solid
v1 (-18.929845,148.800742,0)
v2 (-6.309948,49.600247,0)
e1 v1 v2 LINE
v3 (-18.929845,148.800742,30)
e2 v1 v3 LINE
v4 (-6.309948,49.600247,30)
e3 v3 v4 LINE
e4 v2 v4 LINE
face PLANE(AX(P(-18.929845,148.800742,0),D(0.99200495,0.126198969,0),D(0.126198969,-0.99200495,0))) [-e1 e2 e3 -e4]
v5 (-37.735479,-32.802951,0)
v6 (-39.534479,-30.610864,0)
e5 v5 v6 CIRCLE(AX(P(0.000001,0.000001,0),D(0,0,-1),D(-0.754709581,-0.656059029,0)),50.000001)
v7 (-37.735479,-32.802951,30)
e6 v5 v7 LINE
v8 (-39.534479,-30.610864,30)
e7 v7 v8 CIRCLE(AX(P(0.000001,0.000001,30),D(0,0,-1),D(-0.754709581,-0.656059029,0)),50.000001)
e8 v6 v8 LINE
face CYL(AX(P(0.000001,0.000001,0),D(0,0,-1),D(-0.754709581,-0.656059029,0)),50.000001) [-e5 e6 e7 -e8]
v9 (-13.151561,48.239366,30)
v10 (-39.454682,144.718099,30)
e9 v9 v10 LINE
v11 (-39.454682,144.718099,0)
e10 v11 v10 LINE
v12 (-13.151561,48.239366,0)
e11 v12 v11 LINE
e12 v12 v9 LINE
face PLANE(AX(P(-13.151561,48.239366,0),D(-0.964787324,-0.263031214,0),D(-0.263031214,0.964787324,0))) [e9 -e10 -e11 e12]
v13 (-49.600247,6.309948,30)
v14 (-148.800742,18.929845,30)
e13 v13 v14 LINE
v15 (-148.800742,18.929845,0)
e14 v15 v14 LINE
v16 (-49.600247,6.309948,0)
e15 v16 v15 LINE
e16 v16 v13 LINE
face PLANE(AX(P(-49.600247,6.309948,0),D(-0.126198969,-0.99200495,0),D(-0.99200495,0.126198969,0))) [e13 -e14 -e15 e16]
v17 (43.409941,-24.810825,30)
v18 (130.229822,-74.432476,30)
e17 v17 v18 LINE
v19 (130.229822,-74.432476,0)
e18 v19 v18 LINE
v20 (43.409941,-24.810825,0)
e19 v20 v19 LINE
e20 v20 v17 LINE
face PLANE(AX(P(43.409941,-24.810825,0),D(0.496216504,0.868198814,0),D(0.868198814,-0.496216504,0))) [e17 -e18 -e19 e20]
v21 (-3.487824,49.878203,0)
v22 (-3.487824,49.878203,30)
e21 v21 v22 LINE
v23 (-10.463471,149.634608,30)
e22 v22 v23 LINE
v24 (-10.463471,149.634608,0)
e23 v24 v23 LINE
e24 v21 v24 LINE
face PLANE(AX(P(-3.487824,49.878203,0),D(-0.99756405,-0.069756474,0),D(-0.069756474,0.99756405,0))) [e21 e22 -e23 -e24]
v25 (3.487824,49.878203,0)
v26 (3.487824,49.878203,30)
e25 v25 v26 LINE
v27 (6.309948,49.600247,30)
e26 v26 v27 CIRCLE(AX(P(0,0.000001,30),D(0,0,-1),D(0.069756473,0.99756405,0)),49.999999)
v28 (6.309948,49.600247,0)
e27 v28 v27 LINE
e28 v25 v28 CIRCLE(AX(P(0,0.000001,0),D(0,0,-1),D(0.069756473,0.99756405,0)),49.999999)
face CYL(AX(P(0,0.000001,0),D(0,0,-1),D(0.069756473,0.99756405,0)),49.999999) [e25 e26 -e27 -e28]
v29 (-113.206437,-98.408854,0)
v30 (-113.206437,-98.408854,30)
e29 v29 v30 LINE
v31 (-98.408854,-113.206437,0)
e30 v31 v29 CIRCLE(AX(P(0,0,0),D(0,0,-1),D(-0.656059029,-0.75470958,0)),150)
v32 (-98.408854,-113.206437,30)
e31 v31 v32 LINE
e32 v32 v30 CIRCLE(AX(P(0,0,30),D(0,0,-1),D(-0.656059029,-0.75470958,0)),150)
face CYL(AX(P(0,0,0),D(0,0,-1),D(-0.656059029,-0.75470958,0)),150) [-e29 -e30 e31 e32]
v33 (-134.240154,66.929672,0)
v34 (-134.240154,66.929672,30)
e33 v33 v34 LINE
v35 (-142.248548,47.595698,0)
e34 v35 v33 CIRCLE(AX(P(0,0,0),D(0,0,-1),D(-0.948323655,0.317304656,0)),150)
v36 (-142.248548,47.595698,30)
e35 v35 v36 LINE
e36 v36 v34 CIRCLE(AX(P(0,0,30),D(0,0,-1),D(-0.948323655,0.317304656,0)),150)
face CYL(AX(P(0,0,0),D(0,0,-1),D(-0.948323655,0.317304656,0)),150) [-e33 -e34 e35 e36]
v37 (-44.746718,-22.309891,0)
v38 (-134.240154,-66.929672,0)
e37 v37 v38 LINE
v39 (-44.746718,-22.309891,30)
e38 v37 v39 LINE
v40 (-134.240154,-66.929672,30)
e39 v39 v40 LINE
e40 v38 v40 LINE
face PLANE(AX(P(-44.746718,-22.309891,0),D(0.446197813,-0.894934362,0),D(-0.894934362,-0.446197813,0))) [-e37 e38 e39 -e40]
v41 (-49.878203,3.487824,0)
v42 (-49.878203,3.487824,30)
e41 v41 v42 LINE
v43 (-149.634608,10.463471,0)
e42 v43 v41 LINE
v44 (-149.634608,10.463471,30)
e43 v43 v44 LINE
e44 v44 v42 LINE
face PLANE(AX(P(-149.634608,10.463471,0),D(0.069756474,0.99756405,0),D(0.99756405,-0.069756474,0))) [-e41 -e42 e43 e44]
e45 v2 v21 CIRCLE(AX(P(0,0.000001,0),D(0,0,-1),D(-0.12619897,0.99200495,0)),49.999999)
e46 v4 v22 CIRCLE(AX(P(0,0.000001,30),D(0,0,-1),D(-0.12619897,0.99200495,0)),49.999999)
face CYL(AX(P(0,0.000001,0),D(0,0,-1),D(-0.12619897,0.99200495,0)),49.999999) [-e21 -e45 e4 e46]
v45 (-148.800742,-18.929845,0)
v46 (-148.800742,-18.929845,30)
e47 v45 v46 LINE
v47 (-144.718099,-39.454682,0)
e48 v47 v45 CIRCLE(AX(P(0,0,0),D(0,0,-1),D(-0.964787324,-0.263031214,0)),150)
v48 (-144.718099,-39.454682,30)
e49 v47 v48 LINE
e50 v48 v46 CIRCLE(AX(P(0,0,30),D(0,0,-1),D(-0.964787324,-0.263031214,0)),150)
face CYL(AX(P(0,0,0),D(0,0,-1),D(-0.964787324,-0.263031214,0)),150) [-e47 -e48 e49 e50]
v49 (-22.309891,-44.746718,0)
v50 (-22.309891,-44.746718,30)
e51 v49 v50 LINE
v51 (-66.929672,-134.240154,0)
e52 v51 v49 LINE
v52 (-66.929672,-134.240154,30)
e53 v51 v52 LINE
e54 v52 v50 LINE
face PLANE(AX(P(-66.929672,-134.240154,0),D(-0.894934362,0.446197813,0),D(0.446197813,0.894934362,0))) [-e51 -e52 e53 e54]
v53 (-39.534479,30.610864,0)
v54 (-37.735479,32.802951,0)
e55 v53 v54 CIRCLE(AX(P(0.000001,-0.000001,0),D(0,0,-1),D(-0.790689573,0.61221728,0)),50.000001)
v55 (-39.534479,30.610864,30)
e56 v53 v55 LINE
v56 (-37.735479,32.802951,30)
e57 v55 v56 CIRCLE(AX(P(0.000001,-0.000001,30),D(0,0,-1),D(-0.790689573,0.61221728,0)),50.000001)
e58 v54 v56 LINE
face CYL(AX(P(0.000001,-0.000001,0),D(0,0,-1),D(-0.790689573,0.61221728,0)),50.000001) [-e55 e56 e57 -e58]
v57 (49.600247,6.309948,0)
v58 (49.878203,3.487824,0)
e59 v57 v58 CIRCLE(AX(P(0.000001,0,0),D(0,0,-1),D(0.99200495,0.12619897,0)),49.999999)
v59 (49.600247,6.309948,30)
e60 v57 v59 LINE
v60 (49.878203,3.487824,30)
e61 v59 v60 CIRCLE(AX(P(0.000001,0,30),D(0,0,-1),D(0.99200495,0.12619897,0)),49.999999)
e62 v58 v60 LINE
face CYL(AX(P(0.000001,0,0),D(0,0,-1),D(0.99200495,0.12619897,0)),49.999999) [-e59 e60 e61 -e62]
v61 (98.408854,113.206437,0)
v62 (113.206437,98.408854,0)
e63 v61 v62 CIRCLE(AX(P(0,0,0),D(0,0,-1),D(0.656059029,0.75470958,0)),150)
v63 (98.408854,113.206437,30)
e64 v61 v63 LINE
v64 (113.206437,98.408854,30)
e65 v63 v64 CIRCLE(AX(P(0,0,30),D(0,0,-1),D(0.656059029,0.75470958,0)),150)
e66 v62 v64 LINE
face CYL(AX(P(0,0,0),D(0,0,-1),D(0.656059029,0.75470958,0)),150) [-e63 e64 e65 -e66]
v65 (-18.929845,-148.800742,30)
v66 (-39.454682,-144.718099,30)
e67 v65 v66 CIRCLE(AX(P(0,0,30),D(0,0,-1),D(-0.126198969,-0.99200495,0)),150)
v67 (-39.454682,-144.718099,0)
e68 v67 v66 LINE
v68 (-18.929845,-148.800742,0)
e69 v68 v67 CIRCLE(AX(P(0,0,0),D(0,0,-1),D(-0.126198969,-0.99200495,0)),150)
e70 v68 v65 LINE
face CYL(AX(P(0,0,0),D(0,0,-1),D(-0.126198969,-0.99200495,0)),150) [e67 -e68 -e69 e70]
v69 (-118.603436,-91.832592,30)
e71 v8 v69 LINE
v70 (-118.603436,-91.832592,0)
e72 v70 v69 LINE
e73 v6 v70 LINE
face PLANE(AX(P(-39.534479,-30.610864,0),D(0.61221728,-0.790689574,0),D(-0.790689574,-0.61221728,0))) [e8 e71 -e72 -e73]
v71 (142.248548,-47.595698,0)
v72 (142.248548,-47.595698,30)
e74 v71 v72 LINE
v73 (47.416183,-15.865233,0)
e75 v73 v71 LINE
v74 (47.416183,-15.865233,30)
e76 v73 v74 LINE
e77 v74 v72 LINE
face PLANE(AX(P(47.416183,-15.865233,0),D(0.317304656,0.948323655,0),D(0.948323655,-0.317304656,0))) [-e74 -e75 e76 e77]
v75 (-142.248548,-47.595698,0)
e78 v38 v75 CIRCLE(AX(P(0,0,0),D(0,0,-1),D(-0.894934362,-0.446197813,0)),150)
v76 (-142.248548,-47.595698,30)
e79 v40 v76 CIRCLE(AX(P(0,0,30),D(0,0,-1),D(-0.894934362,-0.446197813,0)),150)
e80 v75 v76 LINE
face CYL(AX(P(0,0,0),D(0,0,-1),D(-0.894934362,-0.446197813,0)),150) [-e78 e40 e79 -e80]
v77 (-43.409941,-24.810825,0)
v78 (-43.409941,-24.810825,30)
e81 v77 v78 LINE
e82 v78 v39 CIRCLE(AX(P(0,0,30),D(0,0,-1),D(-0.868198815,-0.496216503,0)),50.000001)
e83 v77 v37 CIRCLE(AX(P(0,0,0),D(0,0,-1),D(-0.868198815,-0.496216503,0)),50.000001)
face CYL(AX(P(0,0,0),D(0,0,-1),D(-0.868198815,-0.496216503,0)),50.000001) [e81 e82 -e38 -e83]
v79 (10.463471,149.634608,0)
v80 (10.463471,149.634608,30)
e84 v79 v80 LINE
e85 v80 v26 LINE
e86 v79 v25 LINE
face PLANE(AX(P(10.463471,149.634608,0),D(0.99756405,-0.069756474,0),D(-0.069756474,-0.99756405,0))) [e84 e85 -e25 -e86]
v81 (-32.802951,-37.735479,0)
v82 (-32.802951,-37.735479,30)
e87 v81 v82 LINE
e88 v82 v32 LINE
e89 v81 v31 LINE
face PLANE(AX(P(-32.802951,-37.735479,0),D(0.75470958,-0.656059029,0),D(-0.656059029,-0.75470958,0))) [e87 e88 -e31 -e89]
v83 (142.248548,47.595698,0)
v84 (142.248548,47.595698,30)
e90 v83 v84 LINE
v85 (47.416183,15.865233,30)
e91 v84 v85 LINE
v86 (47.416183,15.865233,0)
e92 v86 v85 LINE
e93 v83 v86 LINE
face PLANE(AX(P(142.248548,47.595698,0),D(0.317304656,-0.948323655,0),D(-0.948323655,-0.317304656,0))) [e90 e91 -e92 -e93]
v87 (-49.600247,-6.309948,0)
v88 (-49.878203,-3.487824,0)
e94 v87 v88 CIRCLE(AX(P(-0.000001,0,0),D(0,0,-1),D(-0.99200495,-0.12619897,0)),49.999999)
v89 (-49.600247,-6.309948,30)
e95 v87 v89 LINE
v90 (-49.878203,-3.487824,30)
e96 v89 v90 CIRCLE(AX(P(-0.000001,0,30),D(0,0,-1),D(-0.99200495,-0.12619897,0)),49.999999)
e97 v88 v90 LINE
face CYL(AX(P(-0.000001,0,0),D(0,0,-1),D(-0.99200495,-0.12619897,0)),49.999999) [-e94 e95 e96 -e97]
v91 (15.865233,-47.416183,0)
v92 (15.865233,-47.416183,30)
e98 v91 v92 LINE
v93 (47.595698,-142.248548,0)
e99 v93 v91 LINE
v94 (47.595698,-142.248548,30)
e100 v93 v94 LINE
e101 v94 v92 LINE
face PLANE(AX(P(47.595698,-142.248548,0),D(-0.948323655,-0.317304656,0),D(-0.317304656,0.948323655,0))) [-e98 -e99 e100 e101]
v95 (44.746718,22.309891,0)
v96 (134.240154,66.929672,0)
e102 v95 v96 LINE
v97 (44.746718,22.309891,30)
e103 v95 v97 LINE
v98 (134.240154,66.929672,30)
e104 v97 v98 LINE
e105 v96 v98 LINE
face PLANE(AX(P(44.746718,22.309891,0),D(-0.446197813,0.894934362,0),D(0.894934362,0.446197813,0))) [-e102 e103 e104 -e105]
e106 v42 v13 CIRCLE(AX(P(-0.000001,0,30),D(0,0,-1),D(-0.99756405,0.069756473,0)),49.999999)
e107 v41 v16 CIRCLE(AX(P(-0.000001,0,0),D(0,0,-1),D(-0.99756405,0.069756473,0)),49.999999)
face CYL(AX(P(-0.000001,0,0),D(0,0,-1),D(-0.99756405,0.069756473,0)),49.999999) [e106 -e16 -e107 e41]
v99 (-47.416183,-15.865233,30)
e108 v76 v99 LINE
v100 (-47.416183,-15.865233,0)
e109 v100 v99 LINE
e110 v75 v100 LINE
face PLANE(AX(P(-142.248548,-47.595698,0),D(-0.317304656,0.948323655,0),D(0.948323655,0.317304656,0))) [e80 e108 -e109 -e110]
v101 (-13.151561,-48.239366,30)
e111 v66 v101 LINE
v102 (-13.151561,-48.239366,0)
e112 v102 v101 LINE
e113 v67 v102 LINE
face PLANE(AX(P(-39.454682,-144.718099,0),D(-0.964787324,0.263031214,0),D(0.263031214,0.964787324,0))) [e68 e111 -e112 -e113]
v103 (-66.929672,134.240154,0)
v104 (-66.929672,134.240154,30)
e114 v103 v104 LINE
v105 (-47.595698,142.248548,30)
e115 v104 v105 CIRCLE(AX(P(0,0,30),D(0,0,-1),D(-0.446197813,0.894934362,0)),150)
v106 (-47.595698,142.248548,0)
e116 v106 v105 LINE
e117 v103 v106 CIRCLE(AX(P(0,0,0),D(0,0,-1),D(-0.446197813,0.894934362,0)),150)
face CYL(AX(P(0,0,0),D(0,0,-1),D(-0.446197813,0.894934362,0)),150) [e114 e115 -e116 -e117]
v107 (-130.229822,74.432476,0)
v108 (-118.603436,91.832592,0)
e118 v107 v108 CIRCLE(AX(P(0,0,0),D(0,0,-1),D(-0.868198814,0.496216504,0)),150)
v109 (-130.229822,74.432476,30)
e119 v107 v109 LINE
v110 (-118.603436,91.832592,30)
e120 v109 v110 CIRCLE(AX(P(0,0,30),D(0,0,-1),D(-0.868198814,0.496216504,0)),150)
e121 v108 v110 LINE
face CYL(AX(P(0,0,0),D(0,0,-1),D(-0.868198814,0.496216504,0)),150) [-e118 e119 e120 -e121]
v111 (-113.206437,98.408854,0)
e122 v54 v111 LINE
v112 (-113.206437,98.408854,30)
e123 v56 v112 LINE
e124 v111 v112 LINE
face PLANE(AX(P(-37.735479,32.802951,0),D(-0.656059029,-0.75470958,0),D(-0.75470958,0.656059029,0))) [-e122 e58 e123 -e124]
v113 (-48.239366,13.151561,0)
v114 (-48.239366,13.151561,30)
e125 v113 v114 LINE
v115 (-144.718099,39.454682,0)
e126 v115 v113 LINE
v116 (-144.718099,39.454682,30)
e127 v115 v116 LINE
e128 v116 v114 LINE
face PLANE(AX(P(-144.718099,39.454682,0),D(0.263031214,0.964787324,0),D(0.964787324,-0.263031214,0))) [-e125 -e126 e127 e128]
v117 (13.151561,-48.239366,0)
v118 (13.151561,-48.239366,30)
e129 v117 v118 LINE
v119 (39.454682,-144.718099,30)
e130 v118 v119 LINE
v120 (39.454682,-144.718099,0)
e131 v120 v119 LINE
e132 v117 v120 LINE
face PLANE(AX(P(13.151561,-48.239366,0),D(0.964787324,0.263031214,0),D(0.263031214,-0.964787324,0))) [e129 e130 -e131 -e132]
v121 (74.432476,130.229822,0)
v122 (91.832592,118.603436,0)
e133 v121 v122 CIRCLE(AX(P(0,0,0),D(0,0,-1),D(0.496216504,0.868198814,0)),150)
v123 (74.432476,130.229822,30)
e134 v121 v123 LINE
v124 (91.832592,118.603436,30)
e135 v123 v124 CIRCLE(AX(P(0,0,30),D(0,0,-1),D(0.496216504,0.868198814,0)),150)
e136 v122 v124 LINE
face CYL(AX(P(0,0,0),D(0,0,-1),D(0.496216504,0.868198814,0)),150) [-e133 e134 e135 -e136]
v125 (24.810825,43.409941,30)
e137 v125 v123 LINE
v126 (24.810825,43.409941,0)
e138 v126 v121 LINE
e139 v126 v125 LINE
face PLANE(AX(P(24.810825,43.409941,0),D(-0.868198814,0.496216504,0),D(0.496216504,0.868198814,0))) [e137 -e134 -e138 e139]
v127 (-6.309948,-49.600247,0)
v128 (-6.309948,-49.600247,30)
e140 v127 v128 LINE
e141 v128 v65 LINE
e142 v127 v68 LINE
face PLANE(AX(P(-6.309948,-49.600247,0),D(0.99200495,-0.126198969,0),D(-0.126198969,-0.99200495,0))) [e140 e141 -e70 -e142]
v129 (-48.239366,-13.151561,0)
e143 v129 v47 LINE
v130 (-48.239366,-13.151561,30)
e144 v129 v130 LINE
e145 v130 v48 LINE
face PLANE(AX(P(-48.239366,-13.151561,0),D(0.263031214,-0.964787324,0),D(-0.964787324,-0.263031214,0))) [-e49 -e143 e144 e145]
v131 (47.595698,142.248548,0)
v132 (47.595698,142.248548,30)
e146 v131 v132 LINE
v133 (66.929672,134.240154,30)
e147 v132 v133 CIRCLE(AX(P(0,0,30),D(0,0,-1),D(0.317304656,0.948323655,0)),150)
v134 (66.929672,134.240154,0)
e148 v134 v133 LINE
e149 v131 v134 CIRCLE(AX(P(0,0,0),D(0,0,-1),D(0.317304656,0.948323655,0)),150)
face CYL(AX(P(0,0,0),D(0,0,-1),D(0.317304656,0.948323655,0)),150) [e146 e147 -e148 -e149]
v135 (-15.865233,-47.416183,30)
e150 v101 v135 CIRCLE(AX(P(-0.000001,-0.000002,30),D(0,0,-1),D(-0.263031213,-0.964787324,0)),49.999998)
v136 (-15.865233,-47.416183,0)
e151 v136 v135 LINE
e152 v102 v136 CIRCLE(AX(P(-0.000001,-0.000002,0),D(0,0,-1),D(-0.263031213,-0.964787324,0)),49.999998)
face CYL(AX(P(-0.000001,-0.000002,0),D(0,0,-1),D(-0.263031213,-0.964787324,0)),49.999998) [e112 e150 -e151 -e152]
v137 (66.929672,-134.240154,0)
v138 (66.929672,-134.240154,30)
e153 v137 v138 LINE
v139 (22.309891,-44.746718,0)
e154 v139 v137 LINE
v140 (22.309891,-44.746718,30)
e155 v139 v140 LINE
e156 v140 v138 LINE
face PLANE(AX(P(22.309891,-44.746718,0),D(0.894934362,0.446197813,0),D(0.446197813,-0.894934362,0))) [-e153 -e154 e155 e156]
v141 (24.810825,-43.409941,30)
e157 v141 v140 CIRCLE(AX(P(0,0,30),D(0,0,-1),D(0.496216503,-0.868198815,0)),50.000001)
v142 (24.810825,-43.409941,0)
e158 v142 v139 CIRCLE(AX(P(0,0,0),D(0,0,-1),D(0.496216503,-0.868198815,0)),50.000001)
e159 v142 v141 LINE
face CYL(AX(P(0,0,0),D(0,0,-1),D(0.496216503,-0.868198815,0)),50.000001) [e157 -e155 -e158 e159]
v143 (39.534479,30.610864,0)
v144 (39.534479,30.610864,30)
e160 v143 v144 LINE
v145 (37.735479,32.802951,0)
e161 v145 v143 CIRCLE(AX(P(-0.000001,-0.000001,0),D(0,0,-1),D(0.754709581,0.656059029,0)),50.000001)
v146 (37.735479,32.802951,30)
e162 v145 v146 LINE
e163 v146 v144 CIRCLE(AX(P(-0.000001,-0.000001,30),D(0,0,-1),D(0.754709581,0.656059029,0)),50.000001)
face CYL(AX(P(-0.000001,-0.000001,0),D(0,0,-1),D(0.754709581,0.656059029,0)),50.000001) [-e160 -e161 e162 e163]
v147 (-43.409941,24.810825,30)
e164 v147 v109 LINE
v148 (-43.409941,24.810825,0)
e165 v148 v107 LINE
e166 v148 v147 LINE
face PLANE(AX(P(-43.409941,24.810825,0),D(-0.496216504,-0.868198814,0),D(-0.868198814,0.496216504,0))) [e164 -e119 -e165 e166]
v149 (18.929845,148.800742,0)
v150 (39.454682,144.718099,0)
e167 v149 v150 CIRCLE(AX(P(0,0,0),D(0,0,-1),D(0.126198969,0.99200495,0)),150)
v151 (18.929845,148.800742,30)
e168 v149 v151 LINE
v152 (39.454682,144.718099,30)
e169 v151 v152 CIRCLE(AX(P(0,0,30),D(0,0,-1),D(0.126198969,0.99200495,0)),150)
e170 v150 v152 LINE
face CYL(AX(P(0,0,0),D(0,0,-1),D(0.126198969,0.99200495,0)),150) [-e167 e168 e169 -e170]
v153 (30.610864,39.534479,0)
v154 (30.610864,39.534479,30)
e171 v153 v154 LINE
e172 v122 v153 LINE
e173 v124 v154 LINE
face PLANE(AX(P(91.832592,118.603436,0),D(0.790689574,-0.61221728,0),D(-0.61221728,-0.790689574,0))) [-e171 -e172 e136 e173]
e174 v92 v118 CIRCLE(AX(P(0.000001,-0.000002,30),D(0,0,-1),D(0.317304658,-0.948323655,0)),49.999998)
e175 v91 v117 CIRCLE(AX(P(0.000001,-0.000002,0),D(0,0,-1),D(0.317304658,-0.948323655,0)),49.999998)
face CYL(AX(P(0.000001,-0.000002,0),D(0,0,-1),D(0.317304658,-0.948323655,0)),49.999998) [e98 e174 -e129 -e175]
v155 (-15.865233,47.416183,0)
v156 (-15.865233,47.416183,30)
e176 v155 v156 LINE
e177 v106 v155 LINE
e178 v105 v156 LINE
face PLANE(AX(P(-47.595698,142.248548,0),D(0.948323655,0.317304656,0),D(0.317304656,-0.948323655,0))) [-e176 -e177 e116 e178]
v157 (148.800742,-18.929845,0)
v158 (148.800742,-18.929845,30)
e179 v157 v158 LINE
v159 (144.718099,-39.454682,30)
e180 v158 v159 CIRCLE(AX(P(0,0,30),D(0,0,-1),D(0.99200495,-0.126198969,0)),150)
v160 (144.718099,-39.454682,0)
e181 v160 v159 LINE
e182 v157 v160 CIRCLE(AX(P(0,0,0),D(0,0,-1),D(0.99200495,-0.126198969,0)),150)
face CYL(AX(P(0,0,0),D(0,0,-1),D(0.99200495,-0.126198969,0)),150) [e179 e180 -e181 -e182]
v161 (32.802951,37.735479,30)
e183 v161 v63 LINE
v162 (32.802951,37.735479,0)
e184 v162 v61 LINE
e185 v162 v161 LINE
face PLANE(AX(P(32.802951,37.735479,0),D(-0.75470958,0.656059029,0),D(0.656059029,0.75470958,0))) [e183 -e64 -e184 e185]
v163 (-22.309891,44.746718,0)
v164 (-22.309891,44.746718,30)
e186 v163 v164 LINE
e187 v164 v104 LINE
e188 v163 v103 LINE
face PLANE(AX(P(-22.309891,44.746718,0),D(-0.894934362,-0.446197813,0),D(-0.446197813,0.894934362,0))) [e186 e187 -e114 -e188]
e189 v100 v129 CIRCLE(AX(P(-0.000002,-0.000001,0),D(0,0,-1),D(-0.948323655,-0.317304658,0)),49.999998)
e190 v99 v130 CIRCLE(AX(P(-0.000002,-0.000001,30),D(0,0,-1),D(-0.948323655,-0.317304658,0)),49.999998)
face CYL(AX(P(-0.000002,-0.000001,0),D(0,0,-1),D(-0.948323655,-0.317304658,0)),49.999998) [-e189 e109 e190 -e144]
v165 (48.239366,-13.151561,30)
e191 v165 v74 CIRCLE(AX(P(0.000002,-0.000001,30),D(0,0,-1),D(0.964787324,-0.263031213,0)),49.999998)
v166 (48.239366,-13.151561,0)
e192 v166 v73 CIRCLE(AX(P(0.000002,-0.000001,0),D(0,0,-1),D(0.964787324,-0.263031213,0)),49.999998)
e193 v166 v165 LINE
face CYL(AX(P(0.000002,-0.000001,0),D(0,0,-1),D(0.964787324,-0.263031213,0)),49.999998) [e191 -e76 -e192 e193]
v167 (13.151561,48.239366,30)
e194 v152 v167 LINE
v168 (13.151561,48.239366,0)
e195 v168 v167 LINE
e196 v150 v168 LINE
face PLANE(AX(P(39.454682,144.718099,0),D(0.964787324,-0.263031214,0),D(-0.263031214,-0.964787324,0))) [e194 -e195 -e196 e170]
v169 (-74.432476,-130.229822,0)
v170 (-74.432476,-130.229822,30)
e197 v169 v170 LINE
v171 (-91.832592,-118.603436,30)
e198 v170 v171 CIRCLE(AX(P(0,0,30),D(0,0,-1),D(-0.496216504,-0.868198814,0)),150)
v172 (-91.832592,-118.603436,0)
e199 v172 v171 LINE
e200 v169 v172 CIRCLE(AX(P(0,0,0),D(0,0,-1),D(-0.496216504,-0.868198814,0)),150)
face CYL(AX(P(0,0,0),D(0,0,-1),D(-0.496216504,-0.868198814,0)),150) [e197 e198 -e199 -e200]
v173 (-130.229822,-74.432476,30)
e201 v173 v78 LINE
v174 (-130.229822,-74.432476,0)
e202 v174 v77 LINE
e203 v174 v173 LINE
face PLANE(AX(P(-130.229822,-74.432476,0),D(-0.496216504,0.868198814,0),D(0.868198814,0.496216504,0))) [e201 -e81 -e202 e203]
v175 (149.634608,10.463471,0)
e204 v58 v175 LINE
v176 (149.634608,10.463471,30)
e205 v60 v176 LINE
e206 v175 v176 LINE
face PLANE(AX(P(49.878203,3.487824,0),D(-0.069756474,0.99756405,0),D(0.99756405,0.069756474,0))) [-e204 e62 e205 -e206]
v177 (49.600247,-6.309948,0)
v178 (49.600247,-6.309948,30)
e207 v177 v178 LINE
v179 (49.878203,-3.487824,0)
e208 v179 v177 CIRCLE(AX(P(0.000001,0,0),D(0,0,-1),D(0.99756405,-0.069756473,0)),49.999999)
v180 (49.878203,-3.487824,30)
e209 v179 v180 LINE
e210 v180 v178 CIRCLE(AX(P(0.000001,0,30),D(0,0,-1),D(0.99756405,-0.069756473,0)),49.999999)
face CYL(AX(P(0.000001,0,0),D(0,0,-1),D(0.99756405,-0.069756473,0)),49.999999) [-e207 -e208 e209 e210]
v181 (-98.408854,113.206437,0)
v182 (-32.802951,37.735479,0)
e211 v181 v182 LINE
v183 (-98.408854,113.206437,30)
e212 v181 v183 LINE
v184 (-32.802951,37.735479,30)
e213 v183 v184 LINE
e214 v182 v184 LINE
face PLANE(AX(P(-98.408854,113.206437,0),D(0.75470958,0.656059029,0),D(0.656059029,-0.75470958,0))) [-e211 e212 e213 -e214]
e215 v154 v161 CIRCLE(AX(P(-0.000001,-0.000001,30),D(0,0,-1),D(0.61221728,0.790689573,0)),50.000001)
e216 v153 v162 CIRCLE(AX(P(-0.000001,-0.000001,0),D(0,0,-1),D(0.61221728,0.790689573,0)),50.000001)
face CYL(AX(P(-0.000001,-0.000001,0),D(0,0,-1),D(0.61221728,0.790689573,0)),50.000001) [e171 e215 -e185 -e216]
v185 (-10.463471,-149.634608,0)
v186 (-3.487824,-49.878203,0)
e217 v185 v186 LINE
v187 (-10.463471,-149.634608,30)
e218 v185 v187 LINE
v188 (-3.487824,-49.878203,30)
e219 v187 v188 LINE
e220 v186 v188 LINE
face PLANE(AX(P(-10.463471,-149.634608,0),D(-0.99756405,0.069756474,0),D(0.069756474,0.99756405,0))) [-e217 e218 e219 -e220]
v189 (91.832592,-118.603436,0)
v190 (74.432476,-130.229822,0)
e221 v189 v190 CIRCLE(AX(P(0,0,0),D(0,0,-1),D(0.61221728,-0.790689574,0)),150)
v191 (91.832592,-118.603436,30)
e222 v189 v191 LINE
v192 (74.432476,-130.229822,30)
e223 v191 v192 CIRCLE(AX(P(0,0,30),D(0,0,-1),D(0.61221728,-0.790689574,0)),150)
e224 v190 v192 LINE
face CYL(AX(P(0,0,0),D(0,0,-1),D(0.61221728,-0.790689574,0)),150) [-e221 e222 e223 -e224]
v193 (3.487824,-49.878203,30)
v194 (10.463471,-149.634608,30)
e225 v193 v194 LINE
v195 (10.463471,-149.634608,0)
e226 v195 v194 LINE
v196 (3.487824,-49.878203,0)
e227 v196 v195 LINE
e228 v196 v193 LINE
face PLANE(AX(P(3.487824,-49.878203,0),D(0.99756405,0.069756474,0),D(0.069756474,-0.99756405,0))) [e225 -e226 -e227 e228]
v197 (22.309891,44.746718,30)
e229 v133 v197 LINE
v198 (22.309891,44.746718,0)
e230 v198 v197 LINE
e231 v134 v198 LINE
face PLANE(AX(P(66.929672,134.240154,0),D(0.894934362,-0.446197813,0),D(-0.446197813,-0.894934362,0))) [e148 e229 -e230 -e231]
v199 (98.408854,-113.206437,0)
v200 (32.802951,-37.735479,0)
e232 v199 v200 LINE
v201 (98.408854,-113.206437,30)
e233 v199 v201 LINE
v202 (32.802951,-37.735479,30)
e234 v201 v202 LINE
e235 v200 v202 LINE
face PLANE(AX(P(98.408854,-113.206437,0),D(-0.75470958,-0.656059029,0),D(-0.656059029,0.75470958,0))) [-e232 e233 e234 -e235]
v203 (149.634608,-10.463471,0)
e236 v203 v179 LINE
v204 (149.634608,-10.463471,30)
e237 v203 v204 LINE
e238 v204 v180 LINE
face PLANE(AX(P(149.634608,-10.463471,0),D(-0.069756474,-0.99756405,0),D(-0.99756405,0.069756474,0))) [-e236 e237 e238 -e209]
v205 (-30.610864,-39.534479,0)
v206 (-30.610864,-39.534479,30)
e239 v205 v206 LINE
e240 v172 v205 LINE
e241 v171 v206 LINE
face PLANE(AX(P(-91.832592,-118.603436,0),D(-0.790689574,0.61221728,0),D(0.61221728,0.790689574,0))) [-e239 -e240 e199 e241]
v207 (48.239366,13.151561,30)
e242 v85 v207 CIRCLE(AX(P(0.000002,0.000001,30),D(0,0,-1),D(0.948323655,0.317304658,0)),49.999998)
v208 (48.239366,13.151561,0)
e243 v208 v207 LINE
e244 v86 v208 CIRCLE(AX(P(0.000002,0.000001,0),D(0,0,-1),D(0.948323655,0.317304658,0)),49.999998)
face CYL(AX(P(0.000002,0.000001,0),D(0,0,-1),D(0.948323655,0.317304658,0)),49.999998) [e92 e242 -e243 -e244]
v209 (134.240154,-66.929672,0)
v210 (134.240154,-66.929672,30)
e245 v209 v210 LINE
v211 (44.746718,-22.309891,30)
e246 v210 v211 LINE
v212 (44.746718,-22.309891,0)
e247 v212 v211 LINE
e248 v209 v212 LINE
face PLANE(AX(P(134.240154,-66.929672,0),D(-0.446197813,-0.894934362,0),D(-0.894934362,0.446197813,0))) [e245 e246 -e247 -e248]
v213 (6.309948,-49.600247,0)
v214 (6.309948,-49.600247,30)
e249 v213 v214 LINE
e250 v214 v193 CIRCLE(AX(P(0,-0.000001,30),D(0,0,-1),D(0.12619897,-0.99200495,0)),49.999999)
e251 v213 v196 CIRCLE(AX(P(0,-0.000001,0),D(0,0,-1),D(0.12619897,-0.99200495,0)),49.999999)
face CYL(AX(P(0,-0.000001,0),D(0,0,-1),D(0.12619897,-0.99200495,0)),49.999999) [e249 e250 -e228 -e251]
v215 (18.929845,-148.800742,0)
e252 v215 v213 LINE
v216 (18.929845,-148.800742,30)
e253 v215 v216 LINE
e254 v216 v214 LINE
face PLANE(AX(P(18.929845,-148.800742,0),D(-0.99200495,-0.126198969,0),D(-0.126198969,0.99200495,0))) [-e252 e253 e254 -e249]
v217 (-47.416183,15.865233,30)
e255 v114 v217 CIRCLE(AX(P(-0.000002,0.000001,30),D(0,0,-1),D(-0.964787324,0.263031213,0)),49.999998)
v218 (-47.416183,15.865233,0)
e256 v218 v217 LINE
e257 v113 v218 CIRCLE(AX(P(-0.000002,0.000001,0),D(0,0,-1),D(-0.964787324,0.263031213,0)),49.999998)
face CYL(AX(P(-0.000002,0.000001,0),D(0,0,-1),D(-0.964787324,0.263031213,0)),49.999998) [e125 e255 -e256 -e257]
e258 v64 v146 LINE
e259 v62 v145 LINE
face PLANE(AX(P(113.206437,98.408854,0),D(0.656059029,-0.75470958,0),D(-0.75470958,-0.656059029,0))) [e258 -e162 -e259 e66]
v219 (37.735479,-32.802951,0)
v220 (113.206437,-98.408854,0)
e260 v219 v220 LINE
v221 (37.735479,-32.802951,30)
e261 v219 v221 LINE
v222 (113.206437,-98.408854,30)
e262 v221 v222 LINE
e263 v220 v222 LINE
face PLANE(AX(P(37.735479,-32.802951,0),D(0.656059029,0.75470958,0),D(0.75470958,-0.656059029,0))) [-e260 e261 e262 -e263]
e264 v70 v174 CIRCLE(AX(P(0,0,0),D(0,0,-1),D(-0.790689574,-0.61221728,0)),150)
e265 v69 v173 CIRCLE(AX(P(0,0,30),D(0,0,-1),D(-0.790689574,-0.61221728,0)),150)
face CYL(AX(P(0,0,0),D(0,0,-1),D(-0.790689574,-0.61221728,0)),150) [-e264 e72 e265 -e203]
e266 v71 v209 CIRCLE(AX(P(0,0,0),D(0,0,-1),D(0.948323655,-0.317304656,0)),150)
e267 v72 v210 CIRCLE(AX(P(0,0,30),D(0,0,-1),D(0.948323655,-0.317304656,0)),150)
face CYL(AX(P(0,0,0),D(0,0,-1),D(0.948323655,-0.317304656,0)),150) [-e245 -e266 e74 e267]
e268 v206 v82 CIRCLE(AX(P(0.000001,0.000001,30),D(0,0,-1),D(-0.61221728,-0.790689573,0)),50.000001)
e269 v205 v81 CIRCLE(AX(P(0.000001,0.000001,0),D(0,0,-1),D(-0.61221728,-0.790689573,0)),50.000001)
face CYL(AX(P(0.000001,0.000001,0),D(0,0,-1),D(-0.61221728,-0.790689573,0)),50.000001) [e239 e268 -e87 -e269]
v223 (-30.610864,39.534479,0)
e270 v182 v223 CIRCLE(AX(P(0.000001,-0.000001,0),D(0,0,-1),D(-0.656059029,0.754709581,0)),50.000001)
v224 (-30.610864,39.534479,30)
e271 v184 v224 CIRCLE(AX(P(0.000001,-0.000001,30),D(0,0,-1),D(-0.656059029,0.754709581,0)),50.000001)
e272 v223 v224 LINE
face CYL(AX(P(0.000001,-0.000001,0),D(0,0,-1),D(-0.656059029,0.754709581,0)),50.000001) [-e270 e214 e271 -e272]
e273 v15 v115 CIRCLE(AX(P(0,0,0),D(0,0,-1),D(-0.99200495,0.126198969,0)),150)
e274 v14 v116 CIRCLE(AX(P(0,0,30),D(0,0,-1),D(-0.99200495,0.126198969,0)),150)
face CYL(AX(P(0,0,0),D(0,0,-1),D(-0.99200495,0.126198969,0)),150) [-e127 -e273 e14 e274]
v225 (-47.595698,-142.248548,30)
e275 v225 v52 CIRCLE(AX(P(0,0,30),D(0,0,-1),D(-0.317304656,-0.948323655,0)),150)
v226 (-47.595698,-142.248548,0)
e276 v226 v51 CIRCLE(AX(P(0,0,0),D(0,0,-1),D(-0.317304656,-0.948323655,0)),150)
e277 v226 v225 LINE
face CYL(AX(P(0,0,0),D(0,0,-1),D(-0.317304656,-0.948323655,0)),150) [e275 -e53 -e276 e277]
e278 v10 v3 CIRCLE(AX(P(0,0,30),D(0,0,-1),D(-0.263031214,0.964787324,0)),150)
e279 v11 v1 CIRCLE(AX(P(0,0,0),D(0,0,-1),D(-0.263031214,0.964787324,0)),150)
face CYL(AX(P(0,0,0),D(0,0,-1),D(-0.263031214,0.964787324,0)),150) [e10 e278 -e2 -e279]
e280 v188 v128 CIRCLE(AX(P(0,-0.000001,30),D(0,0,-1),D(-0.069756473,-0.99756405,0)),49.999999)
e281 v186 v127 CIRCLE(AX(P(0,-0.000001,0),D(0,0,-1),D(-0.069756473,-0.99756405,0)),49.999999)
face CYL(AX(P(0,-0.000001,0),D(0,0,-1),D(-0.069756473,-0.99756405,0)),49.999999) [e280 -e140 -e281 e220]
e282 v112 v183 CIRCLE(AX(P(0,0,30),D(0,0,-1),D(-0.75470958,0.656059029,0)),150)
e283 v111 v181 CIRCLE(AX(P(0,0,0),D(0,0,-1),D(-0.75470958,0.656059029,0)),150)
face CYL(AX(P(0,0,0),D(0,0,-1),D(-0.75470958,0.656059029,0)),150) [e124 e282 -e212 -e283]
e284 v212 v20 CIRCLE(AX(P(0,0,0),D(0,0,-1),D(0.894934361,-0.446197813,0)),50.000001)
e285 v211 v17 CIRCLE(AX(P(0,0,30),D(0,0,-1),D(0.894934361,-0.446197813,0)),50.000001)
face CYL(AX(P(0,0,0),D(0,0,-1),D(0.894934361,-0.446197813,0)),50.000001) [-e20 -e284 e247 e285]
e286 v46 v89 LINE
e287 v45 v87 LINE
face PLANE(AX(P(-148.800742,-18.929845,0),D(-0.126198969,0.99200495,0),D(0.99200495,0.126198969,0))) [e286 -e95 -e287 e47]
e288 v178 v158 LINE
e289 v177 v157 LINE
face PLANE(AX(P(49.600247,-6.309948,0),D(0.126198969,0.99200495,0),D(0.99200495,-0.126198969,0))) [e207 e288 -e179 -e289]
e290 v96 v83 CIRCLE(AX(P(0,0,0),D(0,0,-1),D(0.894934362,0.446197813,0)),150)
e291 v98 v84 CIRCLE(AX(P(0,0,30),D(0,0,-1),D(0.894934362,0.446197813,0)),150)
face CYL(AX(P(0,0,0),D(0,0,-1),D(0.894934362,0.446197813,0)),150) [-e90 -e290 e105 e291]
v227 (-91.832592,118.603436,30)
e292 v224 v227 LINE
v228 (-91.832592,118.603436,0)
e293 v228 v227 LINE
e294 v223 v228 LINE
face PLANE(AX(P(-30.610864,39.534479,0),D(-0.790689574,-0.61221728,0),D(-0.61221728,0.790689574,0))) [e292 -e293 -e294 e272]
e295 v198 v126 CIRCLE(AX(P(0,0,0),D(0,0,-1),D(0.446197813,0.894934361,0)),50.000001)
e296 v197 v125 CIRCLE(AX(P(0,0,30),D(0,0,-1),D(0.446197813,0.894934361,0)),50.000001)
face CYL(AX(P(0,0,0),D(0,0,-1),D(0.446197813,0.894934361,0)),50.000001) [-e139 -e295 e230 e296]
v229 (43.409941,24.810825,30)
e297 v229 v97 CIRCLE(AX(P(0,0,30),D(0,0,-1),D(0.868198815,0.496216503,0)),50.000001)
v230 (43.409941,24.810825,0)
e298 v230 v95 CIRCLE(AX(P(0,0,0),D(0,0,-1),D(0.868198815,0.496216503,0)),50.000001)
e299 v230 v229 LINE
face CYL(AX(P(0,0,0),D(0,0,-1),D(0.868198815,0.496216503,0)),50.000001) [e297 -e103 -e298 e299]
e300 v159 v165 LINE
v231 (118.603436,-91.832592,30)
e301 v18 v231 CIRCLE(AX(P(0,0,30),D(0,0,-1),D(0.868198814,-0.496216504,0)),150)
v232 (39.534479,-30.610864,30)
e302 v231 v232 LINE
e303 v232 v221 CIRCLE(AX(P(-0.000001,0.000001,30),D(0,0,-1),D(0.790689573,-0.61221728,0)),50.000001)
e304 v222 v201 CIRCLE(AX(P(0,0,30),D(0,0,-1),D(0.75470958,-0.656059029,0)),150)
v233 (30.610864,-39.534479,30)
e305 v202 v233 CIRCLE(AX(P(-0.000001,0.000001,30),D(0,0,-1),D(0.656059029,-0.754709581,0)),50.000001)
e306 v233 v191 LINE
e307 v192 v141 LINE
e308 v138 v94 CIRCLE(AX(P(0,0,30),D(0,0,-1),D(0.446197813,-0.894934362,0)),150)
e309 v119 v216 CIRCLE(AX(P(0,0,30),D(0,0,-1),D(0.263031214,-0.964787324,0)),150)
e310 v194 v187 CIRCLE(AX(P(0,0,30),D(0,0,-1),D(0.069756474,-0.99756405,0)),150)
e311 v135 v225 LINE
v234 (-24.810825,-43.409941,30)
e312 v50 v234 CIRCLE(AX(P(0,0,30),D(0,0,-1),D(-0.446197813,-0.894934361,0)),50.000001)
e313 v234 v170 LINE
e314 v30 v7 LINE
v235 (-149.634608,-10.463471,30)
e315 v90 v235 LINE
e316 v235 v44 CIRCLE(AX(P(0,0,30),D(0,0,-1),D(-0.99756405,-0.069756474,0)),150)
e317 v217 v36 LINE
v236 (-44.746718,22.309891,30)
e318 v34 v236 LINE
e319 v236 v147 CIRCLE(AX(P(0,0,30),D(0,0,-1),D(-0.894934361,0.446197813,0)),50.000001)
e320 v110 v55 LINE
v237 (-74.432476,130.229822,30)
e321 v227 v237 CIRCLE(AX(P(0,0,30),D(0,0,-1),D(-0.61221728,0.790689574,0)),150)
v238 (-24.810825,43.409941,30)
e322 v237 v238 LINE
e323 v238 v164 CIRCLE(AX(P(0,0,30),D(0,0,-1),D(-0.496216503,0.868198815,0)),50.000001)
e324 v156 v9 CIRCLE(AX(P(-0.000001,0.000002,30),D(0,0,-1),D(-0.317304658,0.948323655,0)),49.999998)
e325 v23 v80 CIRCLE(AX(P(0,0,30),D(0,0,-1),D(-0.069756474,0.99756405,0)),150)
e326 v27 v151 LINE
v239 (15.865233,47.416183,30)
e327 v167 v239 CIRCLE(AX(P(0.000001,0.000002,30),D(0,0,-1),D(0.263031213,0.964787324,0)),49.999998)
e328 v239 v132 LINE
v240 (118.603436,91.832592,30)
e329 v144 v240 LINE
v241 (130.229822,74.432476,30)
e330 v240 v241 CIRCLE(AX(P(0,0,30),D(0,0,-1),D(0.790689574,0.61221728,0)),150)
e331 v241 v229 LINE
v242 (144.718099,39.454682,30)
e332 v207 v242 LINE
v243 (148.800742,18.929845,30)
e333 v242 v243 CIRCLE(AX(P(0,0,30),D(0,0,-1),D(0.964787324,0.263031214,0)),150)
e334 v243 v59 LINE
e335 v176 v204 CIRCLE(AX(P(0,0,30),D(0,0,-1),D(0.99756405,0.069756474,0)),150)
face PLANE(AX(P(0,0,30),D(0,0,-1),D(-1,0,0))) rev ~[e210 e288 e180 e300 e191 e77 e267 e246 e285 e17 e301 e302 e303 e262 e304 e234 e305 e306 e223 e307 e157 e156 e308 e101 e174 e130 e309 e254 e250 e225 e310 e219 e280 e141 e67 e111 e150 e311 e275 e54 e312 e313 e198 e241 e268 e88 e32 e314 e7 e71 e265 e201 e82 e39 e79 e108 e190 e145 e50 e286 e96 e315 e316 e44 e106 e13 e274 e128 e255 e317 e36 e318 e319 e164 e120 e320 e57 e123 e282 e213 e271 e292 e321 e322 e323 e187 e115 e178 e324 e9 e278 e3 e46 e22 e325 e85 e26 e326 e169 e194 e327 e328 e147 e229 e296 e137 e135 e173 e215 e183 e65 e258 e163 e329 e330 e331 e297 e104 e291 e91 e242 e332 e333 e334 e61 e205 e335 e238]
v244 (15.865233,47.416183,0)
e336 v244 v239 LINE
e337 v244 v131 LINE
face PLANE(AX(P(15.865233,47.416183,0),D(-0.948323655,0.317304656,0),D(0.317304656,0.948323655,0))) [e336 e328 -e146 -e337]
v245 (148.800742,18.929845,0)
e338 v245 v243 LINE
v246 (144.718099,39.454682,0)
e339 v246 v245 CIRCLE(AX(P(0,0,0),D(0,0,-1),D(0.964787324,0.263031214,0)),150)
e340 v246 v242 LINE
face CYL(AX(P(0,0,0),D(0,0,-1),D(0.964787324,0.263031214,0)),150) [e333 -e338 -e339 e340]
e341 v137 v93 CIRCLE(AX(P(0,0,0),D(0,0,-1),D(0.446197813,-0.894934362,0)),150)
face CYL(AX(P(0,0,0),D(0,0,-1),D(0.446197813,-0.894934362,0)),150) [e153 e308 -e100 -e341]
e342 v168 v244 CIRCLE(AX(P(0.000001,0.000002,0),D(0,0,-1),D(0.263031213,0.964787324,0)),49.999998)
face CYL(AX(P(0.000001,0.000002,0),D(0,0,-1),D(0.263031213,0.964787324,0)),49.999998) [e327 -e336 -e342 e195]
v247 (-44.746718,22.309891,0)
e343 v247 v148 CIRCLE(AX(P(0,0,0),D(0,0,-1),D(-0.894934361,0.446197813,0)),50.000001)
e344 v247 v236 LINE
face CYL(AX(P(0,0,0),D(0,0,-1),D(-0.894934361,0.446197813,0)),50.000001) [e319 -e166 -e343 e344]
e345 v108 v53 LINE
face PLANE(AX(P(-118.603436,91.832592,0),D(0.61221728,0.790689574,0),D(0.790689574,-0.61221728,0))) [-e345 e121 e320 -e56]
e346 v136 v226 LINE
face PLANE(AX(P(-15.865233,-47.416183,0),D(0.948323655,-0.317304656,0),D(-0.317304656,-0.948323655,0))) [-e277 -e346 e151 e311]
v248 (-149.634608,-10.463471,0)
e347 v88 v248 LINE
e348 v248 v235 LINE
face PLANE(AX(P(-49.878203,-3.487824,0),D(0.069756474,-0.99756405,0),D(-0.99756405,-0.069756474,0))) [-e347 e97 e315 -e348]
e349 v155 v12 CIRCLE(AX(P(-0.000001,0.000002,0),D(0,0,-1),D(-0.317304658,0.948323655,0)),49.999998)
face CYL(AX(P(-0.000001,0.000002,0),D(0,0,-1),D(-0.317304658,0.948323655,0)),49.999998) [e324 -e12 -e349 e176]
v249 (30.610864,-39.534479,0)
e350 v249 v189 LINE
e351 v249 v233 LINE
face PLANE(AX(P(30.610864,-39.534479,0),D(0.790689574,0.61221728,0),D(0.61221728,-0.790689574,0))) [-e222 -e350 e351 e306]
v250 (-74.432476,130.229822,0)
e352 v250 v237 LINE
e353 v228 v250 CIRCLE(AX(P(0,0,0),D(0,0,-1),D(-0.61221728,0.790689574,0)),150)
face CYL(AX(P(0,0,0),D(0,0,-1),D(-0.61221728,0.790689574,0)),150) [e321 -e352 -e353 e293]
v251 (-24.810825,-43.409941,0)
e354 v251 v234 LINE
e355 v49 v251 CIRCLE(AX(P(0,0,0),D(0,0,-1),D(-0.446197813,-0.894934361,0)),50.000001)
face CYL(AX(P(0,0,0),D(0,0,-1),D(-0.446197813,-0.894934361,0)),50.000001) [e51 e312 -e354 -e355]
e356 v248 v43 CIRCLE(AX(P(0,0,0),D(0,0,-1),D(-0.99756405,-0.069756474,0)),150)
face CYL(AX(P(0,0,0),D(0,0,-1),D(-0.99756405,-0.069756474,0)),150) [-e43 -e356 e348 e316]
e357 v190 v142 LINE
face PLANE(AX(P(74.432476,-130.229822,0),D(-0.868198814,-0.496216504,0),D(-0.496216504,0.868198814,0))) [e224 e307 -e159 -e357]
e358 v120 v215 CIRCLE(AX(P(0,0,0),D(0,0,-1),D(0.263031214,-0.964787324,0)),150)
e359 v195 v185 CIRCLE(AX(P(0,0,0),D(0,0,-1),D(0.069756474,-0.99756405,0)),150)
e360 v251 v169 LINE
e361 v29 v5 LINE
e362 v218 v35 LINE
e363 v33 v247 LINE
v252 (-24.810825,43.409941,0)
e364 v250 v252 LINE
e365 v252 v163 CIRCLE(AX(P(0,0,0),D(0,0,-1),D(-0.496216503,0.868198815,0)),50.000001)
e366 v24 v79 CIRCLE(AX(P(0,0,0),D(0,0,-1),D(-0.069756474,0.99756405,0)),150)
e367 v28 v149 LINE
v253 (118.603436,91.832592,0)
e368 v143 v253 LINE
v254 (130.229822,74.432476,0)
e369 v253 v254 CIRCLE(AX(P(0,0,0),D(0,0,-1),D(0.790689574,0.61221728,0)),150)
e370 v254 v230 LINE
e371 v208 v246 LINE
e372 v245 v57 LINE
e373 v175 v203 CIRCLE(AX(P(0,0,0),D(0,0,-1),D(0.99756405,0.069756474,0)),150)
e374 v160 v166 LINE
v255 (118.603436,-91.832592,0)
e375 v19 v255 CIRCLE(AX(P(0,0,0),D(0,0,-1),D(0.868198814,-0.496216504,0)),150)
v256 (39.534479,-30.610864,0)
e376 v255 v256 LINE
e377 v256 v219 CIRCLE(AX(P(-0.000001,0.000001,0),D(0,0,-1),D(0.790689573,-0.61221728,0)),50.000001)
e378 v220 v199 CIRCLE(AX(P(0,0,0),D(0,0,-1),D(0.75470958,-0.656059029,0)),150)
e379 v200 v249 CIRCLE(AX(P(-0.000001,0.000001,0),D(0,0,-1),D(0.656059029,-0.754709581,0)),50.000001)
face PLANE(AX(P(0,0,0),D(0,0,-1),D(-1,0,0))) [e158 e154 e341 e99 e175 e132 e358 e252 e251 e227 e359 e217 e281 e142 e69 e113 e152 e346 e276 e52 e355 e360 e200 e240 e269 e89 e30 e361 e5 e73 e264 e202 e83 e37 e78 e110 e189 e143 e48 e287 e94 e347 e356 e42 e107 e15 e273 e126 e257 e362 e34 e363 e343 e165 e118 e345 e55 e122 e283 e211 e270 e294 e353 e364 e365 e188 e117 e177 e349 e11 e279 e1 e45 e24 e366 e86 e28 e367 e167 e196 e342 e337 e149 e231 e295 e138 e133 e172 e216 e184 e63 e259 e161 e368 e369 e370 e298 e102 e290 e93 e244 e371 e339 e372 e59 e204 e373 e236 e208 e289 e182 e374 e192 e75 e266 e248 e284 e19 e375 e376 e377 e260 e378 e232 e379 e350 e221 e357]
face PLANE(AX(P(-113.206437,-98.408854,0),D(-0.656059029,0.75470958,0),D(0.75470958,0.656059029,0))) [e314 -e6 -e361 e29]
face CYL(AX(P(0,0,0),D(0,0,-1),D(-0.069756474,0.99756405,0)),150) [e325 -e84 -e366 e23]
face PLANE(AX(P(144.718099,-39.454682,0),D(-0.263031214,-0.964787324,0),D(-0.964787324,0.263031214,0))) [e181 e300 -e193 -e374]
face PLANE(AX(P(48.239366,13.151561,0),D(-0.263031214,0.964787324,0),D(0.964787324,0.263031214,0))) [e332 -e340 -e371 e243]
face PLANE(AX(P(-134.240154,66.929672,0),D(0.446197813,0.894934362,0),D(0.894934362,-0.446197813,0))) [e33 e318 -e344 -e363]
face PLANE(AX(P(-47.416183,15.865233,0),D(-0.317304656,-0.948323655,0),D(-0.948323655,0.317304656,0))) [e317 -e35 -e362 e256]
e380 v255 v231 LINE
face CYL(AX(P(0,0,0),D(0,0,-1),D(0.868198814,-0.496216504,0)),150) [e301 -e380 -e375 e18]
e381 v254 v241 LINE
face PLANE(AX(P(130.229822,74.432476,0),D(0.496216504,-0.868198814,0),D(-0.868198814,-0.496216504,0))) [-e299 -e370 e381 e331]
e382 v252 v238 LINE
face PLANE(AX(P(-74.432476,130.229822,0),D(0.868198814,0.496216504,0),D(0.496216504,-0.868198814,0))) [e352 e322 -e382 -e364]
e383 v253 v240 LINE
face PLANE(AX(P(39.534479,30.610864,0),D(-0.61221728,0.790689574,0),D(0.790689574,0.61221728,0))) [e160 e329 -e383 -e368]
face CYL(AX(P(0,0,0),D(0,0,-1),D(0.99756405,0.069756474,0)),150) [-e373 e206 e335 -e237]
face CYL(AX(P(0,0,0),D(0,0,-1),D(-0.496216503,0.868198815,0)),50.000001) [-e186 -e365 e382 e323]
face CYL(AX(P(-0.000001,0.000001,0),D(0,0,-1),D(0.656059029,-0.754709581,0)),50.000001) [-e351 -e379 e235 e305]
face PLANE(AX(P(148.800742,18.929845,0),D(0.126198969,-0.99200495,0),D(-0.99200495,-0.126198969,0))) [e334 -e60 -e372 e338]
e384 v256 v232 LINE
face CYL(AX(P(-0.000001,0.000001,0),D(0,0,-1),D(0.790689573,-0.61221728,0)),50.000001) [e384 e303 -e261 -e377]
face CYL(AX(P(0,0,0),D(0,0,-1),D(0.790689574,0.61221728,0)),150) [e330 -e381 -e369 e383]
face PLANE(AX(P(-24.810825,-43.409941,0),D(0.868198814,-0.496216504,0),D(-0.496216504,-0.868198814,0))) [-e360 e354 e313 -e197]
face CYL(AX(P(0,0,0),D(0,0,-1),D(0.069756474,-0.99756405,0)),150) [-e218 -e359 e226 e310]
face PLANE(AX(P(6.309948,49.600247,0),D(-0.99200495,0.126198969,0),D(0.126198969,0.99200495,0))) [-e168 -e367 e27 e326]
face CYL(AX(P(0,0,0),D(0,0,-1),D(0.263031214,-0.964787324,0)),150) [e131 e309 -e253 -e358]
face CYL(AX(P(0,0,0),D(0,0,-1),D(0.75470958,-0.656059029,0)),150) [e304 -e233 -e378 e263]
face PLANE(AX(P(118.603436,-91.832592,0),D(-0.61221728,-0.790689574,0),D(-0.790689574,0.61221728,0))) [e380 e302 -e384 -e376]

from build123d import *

# Parameters (mm, degrees)
BOSS_EXTRUDE1_DEPTH = 30


with BuildPart() as part:
    # Sketch1 → Boss-Extrude1 (new body)
    with BuildSketch(Plane.XY):
        with BuildLine():
            Line((-3.487823687, 49.878202513), (-10.463471062, 149.634607539))
            ThreePointArc((-10.463471062, 149.634607539), (0, 150), (10.463471062, 149.634607539))
            Line((10.463471062, 149.634607539), (3.487823687, 49.878202513))
            ThreePointArc((3.487823687, 49.878202513), (4.900857016, 49.759236334), (6.309948457, 49.600247484))
            Line((6.309948457, 49.600247484), (18.92984537, 148.800742452))
            ThreePointArc((18.92984537, 148.800742452), (29.263548302, 147.11779206), (39.454682169, 144.718098574))
            Line((39.454682169, 144.718098574), (13.151560723, 48.239366191))
            ThreePointArc((13.151560723, 48.239366191), (14.514233863, 47.847016787), (15.86523282, 47.41618276))
            Line((15.86523282, 47.41618276), (47.595698461, 142.248548281))
            ThreePointArc((47.595698461, 142.248548281), (57.402514855, 138.581929877), (66.929671966, 134.24015424))
            Line((66.929671966, 134.24015424), (22.309890655, 44.74671808))
            ThreePointArc((22.309890655, 44.74671808), (23.569836841, 44.096063217), (24.810825184, 43.409940724))
            Line((24.810825184, 43.409940724), (74.432475551, 130.229822173))
            ThreePointArc((74.432475551, 130.229822173), (83.335534953, 124.720441845), (91.832592005, 118.603436062))
            Line((91.832592005, 118.603436062), (30.610864002, 39.534478687))
            ThreePointArc((30.610864002, 39.534478687), (31.719664208, 38.650522668), (32.80295145, 37.735479011))
            Line((32.80295145, 37.735479011), (98.408854349, 113.206437033))
            ThreePointArc((98.408854349, 113.206437033), (106.066017178, 106.066017178), (113.206437033, 98.408854349))
            Line((113.206437033, 98.408854349), (37.735479011, 32.80295145))
            ThreePointArc((37.735479011, 32.80295145), (38.650522668, 31.719664208), (39.534478687, 30.610864002))
            Line((39.534478687, 30.610864002), (118.603436062, 91.832592005))
            ThreePointArc((118.603436062, 91.832592005), (124.720441845, 83.335534953), (130.229822173, 74.432475551))
            Line((130.229822173, 74.432475551), (43.409940724, 24.810825184))
            ThreePointArc((43.409940724, 24.810825184), (44.096063217, 23.569836841), (44.74671808, 22.309890655))
            Line((44.74671808, 22.309890655), (134.24015424, 66.929671966))
            ThreePointArc((134.24015424, 66.929671966), (138.581929877, 57.402514855), (142.248548281, 47.595698461))
            Line((142.248548281, 47.595698461), (47.41618276, 15.86523282))
            ThreePointArc((47.41618276, 15.86523282), (47.847016787, 14.514233863), (48.239366191, 13.151560723))
            Line((48.239366191, 13.151560723), (144.718098574, 39.454682169))
            ThreePointArc((144.718098574, 39.454682169), (147.11779206, 29.263548302), (148.800742452, 18.92984537))
            Line((148.800742452, 18.92984537), (49.600247484, 6.309948457))
            ThreePointArc((49.600247484, 6.309948457), (49.759236334, 4.900857016), (49.878202513, 3.487823687))
            Line((49.878202513, 3.487823687), (149.634607539, 10.463471062))
            ThreePointArc((149.634607539, 10.463471062), (150, 0), (149.634607539, -10.463471062))
            Line((149.634607539, -10.463471062), (49.878202513, -3.487823687))
            ThreePointArc((49.878202513, -3.487823687), (49.759236334, -4.900857016), (49.600247484, -6.309948457))
            Line((49.600247484, -6.309948457), (148.800742452, -18.92984537))
            ThreePointArc((148.800742452, -18.92984537), (147.11779206, -29.263548302), (144.718098574, -39.454682169))
            Line((144.718098574, -39.454682169), (48.239366191, -13.151560723))
            ThreePointArc((48.239366191, -13.151560723), (47.847016787, -14.514233863), (47.41618276, -15.86523282))
            Line((47.41618276, -15.86523282), (142.248548281, -47.595698461))
            ThreePointArc((142.248548281, -47.595698461), (138.581929877, -57.402514855), (134.24015424, -66.929671966))
            Line((134.24015424, -66.929671966), (44.74671808, -22.309890655))
            ThreePointArc((44.74671808, -22.309890655), (44.096063217, -23.569836841), (43.409940724, -24.810825184))
            Line((43.409940724, -24.810825184), (130.229822173, -74.432475551))
            ThreePointArc((130.229822173, -74.432475551), (124.720441845, -83.335534953), (118.603436062, -91.832592005))
            Line((118.603436062, -91.832592005), (39.534478687, -30.610864002))
            ThreePointArc((39.534478687, -30.610864002), (38.650522668, -31.719664208), (37.735479011, -32.80295145))
            Line((37.735479011, -32.80295145), (113.206437033, -98.408854349))
            ThreePointArc((113.206437033, -98.408854349), (106.066017178, -106.066017178), (98.408854349, -113.206437033))
            Line((98.408854349, -113.206437033), (32.80295145, -37.735479011))
            ThreePointArc((32.80295145, -37.735479011), (31.719664208, -38.650522668), (30.610864002, -39.534478687))
            Line((30.610864002, -39.534478687), (91.832592005, -118.603436062))
            ThreePointArc((91.832592005, -118.603436062), (83.335534953, -124.720441845), (74.432475551, -130.229822173))
            Line((74.432475551, -130.229822173), (24.810825184, -43.409940724))
            ThreePointArc((24.810825184, -43.409940724), (23.569836841, -44.096063217), (22.309890655, -44.74671808))
            Line((22.309890655, -44.74671808), (66.929671966, -134.24015424))
            ThreePointArc((66.929671966, -134.24015424), (57.402514855, -138.581929877), (47.595698461, -142.248548281))
            Line((47.595698461, -142.248548281), (15.86523282, -47.41618276))
            ThreePointArc((15.86523282, -47.41618276), (14.514233863, -47.847016787), (13.151560723, -48.239366191))
            Line((13.151560723, -48.239366191), (39.454682169, -144.718098574))
            ThreePointArc((39.454682169, -144.718098574), (29.263548302, -147.11779206), (18.92984537, -148.800742452))
            Line((18.92984537, -148.800742452), (6.309948457, -49.600247484))
            ThreePointArc((6.309948457, -49.600247484), (4.900857016, -49.759236334), (3.487823687, -49.878202513))
            Line((3.487823687, -49.878202513), (10.463471062, -149.634607539))
            ThreePointArc((10.463471062, -149.634607539), (0, -150), (-10.463471062, -149.634607539))
            Line((-10.463471062, -149.634607539), (-3.487823687, -49.878202513))
            ThreePointArc((-3.487823687, -49.878202513), (-4.900857016, -49.759236334), (-6.309948457, -49.600247484))
            Line((-6.309948457, -49.600247484), (-18.92984537, -148.800742452))
            ThreePointArc((-18.92984537, -148.800742452), (-29.263548302, -147.11779206), (-39.454682169, -144.718098574))
            Line((-39.454682169, -144.718098574), (-13.151560723, -48.239366191))
            ThreePointArc((-13.151560723, -48.239366191), (-14.514233863, -47.847016787), (-15.86523282, -47.41618276))
            Line((-15.86523282, -47.41618276), (-47.595698461, -142.248548281))
            ThreePointArc((-47.595698461, -142.248548281), (-57.402514855, -138.581929877), (-66.929671966, -134.24015424))
            Line((-66.929671966, -134.24015424), (-22.309890655, -44.74671808))
            ThreePointArc((-22.309890655, -44.74671808), (-23.569836841, -44.096063217), (-24.810825184, -43.409940724))
            Line((-24.810825184, -43.409940724), (-74.432475551, -130.229822173))
            ThreePointArc((-74.432475551, -130.229822173), (-83.335534953, -124.720441845), (-91.832592005, -118.603436062))
            Line((-91.832592005, -118.603436062), (-30.610864002, -39.534478687))
            ThreePointArc((-30.610864002, -39.534478687), (-31.719664208, -38.650522668), (-32.80295145, -37.735479011))
            Line((-32.80295145, -37.735479011), (-98.408854349, -113.206437033))
            ThreePointArc((-98.408854349, -113.206437033), (-106.066017178, -106.066017178), (-113.206437033, -98.408854349))
            Line((-113.206437033, -98.408854349), (-37.735479011, -32.80295145))
            ThreePointArc((-37.735479011, -32.80295145), (-38.650522668, -31.719664208), (-39.534478687, -30.610864002))
            Line((-39.534478687, -30.610864002), (-118.603436062, -91.832592005))
            ThreePointArc((-118.603436062, -91.832592005), (-124.720441845, -83.335534953), (-130.229822173, -74.432475551))
            Line((-130.229822173, -74.432475551), (-43.409940724, -24.810825184))
            ThreePointArc((-43.409940724, -24.810825184), (-44.096063217, -23.569836841), (-44.74671808, -22.309890655))
            Line((-44.74671808, -22.309890655), (-134.24015424, -66.929671966))
            ThreePointArc((-134.24015424, -66.929671966), (-138.581929877, -57.402514855), (-142.248548281, -47.595698461))
            Line((-142.248548281, -47.595698461), (-47.41618276, -15.86523282))
            ThreePointArc((-47.41618276, -15.86523282), (-47.847016787, -14.514233863), (-48.239366191, -13.151560723))
            Line((-48.239366191, -13.151560723), (-144.718098574, -39.454682169))
            ThreePointArc((-144.718098574, -39.454682169), (-147.11779206, -29.263548302), (-148.800742452, -18.92984537))
            Line((-148.800742452, -18.92984537), (-49.600247484, -6.309948457))
            ThreePointArc((-49.600247484, -6.309948457), (-49.759236334, -4.900857016), (-49.878202513, -3.487823687))
            Line((-49.878202513, -3.487823687), (-149.634607539, -10.463471062))
            ThreePointArc((-149.634607539, -10.463471062), (-150, 0), (-149.634607539, 10.463471062))
            Line((-149.634607539, 10.463471062), (-49.878202513, 3.487823687))
            ThreePointArc((-49.878202513, 3.487823687), (-49.759236334, 4.900857016), (-49.600247484, 6.309948457))
            Line((-49.600247484, 6.309948457), (-148.800742452, 18.92984537))
            ThreePointArc((-148.800742452, 18.92984537), (-147.11779206, 29.263548302), (-144.718098574, 39.454682169))
            Line((-144.718098574, 39.454682169), (-48.239366191, 13.151560723))
            ThreePointArc((-48.239366191, 13.151560723), (-47.847016787, 14.514233863), (-47.41618276, 15.86523282))
            Line((-47.41618276, 15.86523282), (-142.248548281, 47.595698461))
            ThreePointArc((-142.248548281, 47.595698461), (-138.581929877, 57.402514855), (-134.24015424, 66.929671966))
            Line((-134.24015424, 66.929671966), (-44.74671808, 22.309890655))
            ThreePointArc((-44.74671808, 22.309890655), (-44.096063217, 23.569836841), (-43.409940724, 24.810825184))
            Line((-43.409940724, 24.810825184), (-130.229822173, 74.432475551))
            ThreePointArc((-130.229822173, 74.432475551), (-124.720441845, 83.335534953), (-118.603436062, 91.832592005))
            Line((-118.603436062, 91.832592005), (-39.534478687, 30.610864002))
            ThreePointArc((-39.534478687, 30.610864002), (-38.650522668, 31.719664208), (-37.735479011, 32.80295145))
            Line((-37.735479011, 32.80295145), (-113.206437033, 98.408854349))
            ThreePointArc((-113.206437033, 98.408854349), (-106.066017178, 106.066017178), (-98.408854349, 113.206437033))
            Line((-98.408854349, 113.206437033), (-32.80295145, 37.735479011))
            ThreePointArc((-32.80295145, 37.735479011), (-31.719664208, 38.650522668), (-30.610864002, 39.534478687))
            Line((-30.610864002, 39.534478687), (-91.832592005, 118.603436062))
            ThreePointArc((-91.832592005, 118.603436062), (-83.335534953, 124.720441845), (-74.432475551, 130.229822173))
            Line((-74.432475551, 130.229822173), (-24.810825184, 43.409940724))
            ThreePointArc((-24.810825184, 43.409940724), (-23.569836841, 44.096063217), (-22.309890655, 44.74671808))
            Line((-22.309890655, 44.74671808), (-66.929671966, 134.24015424))
            ThreePointArc((-66.929671966, 134.24015424), (-57.402514855, 138.581929877), (-47.595698461, 142.248548281))
            Line((-47.595698461, 142.248548281), (-15.86523282, 47.41618276))
            ThreePointArc((-15.86523282, 47.41618276), (-14.514233863, 47.847016787), (-13.151560723, 48.239366191))
            Line((-13.151560723, 48.239366191), (-39.454682169, 144.718098574))
            ThreePointArc((-39.454682169, 144.718098574), (-29.263548302, 147.11779206), (-18.92984537, 148.800742452))
            Line((-18.92984537, 148.800742452), (-6.309948457, 49.600247484))
            ThreePointArc((-6.309948457, 49.600247484), (-4.900857016, 49.759236334), (-3.487823687, 49.878202513))
        make_face()
    extrude(amount=BOSS_EXTRUDE1_DEPTH)


solid = part.part
